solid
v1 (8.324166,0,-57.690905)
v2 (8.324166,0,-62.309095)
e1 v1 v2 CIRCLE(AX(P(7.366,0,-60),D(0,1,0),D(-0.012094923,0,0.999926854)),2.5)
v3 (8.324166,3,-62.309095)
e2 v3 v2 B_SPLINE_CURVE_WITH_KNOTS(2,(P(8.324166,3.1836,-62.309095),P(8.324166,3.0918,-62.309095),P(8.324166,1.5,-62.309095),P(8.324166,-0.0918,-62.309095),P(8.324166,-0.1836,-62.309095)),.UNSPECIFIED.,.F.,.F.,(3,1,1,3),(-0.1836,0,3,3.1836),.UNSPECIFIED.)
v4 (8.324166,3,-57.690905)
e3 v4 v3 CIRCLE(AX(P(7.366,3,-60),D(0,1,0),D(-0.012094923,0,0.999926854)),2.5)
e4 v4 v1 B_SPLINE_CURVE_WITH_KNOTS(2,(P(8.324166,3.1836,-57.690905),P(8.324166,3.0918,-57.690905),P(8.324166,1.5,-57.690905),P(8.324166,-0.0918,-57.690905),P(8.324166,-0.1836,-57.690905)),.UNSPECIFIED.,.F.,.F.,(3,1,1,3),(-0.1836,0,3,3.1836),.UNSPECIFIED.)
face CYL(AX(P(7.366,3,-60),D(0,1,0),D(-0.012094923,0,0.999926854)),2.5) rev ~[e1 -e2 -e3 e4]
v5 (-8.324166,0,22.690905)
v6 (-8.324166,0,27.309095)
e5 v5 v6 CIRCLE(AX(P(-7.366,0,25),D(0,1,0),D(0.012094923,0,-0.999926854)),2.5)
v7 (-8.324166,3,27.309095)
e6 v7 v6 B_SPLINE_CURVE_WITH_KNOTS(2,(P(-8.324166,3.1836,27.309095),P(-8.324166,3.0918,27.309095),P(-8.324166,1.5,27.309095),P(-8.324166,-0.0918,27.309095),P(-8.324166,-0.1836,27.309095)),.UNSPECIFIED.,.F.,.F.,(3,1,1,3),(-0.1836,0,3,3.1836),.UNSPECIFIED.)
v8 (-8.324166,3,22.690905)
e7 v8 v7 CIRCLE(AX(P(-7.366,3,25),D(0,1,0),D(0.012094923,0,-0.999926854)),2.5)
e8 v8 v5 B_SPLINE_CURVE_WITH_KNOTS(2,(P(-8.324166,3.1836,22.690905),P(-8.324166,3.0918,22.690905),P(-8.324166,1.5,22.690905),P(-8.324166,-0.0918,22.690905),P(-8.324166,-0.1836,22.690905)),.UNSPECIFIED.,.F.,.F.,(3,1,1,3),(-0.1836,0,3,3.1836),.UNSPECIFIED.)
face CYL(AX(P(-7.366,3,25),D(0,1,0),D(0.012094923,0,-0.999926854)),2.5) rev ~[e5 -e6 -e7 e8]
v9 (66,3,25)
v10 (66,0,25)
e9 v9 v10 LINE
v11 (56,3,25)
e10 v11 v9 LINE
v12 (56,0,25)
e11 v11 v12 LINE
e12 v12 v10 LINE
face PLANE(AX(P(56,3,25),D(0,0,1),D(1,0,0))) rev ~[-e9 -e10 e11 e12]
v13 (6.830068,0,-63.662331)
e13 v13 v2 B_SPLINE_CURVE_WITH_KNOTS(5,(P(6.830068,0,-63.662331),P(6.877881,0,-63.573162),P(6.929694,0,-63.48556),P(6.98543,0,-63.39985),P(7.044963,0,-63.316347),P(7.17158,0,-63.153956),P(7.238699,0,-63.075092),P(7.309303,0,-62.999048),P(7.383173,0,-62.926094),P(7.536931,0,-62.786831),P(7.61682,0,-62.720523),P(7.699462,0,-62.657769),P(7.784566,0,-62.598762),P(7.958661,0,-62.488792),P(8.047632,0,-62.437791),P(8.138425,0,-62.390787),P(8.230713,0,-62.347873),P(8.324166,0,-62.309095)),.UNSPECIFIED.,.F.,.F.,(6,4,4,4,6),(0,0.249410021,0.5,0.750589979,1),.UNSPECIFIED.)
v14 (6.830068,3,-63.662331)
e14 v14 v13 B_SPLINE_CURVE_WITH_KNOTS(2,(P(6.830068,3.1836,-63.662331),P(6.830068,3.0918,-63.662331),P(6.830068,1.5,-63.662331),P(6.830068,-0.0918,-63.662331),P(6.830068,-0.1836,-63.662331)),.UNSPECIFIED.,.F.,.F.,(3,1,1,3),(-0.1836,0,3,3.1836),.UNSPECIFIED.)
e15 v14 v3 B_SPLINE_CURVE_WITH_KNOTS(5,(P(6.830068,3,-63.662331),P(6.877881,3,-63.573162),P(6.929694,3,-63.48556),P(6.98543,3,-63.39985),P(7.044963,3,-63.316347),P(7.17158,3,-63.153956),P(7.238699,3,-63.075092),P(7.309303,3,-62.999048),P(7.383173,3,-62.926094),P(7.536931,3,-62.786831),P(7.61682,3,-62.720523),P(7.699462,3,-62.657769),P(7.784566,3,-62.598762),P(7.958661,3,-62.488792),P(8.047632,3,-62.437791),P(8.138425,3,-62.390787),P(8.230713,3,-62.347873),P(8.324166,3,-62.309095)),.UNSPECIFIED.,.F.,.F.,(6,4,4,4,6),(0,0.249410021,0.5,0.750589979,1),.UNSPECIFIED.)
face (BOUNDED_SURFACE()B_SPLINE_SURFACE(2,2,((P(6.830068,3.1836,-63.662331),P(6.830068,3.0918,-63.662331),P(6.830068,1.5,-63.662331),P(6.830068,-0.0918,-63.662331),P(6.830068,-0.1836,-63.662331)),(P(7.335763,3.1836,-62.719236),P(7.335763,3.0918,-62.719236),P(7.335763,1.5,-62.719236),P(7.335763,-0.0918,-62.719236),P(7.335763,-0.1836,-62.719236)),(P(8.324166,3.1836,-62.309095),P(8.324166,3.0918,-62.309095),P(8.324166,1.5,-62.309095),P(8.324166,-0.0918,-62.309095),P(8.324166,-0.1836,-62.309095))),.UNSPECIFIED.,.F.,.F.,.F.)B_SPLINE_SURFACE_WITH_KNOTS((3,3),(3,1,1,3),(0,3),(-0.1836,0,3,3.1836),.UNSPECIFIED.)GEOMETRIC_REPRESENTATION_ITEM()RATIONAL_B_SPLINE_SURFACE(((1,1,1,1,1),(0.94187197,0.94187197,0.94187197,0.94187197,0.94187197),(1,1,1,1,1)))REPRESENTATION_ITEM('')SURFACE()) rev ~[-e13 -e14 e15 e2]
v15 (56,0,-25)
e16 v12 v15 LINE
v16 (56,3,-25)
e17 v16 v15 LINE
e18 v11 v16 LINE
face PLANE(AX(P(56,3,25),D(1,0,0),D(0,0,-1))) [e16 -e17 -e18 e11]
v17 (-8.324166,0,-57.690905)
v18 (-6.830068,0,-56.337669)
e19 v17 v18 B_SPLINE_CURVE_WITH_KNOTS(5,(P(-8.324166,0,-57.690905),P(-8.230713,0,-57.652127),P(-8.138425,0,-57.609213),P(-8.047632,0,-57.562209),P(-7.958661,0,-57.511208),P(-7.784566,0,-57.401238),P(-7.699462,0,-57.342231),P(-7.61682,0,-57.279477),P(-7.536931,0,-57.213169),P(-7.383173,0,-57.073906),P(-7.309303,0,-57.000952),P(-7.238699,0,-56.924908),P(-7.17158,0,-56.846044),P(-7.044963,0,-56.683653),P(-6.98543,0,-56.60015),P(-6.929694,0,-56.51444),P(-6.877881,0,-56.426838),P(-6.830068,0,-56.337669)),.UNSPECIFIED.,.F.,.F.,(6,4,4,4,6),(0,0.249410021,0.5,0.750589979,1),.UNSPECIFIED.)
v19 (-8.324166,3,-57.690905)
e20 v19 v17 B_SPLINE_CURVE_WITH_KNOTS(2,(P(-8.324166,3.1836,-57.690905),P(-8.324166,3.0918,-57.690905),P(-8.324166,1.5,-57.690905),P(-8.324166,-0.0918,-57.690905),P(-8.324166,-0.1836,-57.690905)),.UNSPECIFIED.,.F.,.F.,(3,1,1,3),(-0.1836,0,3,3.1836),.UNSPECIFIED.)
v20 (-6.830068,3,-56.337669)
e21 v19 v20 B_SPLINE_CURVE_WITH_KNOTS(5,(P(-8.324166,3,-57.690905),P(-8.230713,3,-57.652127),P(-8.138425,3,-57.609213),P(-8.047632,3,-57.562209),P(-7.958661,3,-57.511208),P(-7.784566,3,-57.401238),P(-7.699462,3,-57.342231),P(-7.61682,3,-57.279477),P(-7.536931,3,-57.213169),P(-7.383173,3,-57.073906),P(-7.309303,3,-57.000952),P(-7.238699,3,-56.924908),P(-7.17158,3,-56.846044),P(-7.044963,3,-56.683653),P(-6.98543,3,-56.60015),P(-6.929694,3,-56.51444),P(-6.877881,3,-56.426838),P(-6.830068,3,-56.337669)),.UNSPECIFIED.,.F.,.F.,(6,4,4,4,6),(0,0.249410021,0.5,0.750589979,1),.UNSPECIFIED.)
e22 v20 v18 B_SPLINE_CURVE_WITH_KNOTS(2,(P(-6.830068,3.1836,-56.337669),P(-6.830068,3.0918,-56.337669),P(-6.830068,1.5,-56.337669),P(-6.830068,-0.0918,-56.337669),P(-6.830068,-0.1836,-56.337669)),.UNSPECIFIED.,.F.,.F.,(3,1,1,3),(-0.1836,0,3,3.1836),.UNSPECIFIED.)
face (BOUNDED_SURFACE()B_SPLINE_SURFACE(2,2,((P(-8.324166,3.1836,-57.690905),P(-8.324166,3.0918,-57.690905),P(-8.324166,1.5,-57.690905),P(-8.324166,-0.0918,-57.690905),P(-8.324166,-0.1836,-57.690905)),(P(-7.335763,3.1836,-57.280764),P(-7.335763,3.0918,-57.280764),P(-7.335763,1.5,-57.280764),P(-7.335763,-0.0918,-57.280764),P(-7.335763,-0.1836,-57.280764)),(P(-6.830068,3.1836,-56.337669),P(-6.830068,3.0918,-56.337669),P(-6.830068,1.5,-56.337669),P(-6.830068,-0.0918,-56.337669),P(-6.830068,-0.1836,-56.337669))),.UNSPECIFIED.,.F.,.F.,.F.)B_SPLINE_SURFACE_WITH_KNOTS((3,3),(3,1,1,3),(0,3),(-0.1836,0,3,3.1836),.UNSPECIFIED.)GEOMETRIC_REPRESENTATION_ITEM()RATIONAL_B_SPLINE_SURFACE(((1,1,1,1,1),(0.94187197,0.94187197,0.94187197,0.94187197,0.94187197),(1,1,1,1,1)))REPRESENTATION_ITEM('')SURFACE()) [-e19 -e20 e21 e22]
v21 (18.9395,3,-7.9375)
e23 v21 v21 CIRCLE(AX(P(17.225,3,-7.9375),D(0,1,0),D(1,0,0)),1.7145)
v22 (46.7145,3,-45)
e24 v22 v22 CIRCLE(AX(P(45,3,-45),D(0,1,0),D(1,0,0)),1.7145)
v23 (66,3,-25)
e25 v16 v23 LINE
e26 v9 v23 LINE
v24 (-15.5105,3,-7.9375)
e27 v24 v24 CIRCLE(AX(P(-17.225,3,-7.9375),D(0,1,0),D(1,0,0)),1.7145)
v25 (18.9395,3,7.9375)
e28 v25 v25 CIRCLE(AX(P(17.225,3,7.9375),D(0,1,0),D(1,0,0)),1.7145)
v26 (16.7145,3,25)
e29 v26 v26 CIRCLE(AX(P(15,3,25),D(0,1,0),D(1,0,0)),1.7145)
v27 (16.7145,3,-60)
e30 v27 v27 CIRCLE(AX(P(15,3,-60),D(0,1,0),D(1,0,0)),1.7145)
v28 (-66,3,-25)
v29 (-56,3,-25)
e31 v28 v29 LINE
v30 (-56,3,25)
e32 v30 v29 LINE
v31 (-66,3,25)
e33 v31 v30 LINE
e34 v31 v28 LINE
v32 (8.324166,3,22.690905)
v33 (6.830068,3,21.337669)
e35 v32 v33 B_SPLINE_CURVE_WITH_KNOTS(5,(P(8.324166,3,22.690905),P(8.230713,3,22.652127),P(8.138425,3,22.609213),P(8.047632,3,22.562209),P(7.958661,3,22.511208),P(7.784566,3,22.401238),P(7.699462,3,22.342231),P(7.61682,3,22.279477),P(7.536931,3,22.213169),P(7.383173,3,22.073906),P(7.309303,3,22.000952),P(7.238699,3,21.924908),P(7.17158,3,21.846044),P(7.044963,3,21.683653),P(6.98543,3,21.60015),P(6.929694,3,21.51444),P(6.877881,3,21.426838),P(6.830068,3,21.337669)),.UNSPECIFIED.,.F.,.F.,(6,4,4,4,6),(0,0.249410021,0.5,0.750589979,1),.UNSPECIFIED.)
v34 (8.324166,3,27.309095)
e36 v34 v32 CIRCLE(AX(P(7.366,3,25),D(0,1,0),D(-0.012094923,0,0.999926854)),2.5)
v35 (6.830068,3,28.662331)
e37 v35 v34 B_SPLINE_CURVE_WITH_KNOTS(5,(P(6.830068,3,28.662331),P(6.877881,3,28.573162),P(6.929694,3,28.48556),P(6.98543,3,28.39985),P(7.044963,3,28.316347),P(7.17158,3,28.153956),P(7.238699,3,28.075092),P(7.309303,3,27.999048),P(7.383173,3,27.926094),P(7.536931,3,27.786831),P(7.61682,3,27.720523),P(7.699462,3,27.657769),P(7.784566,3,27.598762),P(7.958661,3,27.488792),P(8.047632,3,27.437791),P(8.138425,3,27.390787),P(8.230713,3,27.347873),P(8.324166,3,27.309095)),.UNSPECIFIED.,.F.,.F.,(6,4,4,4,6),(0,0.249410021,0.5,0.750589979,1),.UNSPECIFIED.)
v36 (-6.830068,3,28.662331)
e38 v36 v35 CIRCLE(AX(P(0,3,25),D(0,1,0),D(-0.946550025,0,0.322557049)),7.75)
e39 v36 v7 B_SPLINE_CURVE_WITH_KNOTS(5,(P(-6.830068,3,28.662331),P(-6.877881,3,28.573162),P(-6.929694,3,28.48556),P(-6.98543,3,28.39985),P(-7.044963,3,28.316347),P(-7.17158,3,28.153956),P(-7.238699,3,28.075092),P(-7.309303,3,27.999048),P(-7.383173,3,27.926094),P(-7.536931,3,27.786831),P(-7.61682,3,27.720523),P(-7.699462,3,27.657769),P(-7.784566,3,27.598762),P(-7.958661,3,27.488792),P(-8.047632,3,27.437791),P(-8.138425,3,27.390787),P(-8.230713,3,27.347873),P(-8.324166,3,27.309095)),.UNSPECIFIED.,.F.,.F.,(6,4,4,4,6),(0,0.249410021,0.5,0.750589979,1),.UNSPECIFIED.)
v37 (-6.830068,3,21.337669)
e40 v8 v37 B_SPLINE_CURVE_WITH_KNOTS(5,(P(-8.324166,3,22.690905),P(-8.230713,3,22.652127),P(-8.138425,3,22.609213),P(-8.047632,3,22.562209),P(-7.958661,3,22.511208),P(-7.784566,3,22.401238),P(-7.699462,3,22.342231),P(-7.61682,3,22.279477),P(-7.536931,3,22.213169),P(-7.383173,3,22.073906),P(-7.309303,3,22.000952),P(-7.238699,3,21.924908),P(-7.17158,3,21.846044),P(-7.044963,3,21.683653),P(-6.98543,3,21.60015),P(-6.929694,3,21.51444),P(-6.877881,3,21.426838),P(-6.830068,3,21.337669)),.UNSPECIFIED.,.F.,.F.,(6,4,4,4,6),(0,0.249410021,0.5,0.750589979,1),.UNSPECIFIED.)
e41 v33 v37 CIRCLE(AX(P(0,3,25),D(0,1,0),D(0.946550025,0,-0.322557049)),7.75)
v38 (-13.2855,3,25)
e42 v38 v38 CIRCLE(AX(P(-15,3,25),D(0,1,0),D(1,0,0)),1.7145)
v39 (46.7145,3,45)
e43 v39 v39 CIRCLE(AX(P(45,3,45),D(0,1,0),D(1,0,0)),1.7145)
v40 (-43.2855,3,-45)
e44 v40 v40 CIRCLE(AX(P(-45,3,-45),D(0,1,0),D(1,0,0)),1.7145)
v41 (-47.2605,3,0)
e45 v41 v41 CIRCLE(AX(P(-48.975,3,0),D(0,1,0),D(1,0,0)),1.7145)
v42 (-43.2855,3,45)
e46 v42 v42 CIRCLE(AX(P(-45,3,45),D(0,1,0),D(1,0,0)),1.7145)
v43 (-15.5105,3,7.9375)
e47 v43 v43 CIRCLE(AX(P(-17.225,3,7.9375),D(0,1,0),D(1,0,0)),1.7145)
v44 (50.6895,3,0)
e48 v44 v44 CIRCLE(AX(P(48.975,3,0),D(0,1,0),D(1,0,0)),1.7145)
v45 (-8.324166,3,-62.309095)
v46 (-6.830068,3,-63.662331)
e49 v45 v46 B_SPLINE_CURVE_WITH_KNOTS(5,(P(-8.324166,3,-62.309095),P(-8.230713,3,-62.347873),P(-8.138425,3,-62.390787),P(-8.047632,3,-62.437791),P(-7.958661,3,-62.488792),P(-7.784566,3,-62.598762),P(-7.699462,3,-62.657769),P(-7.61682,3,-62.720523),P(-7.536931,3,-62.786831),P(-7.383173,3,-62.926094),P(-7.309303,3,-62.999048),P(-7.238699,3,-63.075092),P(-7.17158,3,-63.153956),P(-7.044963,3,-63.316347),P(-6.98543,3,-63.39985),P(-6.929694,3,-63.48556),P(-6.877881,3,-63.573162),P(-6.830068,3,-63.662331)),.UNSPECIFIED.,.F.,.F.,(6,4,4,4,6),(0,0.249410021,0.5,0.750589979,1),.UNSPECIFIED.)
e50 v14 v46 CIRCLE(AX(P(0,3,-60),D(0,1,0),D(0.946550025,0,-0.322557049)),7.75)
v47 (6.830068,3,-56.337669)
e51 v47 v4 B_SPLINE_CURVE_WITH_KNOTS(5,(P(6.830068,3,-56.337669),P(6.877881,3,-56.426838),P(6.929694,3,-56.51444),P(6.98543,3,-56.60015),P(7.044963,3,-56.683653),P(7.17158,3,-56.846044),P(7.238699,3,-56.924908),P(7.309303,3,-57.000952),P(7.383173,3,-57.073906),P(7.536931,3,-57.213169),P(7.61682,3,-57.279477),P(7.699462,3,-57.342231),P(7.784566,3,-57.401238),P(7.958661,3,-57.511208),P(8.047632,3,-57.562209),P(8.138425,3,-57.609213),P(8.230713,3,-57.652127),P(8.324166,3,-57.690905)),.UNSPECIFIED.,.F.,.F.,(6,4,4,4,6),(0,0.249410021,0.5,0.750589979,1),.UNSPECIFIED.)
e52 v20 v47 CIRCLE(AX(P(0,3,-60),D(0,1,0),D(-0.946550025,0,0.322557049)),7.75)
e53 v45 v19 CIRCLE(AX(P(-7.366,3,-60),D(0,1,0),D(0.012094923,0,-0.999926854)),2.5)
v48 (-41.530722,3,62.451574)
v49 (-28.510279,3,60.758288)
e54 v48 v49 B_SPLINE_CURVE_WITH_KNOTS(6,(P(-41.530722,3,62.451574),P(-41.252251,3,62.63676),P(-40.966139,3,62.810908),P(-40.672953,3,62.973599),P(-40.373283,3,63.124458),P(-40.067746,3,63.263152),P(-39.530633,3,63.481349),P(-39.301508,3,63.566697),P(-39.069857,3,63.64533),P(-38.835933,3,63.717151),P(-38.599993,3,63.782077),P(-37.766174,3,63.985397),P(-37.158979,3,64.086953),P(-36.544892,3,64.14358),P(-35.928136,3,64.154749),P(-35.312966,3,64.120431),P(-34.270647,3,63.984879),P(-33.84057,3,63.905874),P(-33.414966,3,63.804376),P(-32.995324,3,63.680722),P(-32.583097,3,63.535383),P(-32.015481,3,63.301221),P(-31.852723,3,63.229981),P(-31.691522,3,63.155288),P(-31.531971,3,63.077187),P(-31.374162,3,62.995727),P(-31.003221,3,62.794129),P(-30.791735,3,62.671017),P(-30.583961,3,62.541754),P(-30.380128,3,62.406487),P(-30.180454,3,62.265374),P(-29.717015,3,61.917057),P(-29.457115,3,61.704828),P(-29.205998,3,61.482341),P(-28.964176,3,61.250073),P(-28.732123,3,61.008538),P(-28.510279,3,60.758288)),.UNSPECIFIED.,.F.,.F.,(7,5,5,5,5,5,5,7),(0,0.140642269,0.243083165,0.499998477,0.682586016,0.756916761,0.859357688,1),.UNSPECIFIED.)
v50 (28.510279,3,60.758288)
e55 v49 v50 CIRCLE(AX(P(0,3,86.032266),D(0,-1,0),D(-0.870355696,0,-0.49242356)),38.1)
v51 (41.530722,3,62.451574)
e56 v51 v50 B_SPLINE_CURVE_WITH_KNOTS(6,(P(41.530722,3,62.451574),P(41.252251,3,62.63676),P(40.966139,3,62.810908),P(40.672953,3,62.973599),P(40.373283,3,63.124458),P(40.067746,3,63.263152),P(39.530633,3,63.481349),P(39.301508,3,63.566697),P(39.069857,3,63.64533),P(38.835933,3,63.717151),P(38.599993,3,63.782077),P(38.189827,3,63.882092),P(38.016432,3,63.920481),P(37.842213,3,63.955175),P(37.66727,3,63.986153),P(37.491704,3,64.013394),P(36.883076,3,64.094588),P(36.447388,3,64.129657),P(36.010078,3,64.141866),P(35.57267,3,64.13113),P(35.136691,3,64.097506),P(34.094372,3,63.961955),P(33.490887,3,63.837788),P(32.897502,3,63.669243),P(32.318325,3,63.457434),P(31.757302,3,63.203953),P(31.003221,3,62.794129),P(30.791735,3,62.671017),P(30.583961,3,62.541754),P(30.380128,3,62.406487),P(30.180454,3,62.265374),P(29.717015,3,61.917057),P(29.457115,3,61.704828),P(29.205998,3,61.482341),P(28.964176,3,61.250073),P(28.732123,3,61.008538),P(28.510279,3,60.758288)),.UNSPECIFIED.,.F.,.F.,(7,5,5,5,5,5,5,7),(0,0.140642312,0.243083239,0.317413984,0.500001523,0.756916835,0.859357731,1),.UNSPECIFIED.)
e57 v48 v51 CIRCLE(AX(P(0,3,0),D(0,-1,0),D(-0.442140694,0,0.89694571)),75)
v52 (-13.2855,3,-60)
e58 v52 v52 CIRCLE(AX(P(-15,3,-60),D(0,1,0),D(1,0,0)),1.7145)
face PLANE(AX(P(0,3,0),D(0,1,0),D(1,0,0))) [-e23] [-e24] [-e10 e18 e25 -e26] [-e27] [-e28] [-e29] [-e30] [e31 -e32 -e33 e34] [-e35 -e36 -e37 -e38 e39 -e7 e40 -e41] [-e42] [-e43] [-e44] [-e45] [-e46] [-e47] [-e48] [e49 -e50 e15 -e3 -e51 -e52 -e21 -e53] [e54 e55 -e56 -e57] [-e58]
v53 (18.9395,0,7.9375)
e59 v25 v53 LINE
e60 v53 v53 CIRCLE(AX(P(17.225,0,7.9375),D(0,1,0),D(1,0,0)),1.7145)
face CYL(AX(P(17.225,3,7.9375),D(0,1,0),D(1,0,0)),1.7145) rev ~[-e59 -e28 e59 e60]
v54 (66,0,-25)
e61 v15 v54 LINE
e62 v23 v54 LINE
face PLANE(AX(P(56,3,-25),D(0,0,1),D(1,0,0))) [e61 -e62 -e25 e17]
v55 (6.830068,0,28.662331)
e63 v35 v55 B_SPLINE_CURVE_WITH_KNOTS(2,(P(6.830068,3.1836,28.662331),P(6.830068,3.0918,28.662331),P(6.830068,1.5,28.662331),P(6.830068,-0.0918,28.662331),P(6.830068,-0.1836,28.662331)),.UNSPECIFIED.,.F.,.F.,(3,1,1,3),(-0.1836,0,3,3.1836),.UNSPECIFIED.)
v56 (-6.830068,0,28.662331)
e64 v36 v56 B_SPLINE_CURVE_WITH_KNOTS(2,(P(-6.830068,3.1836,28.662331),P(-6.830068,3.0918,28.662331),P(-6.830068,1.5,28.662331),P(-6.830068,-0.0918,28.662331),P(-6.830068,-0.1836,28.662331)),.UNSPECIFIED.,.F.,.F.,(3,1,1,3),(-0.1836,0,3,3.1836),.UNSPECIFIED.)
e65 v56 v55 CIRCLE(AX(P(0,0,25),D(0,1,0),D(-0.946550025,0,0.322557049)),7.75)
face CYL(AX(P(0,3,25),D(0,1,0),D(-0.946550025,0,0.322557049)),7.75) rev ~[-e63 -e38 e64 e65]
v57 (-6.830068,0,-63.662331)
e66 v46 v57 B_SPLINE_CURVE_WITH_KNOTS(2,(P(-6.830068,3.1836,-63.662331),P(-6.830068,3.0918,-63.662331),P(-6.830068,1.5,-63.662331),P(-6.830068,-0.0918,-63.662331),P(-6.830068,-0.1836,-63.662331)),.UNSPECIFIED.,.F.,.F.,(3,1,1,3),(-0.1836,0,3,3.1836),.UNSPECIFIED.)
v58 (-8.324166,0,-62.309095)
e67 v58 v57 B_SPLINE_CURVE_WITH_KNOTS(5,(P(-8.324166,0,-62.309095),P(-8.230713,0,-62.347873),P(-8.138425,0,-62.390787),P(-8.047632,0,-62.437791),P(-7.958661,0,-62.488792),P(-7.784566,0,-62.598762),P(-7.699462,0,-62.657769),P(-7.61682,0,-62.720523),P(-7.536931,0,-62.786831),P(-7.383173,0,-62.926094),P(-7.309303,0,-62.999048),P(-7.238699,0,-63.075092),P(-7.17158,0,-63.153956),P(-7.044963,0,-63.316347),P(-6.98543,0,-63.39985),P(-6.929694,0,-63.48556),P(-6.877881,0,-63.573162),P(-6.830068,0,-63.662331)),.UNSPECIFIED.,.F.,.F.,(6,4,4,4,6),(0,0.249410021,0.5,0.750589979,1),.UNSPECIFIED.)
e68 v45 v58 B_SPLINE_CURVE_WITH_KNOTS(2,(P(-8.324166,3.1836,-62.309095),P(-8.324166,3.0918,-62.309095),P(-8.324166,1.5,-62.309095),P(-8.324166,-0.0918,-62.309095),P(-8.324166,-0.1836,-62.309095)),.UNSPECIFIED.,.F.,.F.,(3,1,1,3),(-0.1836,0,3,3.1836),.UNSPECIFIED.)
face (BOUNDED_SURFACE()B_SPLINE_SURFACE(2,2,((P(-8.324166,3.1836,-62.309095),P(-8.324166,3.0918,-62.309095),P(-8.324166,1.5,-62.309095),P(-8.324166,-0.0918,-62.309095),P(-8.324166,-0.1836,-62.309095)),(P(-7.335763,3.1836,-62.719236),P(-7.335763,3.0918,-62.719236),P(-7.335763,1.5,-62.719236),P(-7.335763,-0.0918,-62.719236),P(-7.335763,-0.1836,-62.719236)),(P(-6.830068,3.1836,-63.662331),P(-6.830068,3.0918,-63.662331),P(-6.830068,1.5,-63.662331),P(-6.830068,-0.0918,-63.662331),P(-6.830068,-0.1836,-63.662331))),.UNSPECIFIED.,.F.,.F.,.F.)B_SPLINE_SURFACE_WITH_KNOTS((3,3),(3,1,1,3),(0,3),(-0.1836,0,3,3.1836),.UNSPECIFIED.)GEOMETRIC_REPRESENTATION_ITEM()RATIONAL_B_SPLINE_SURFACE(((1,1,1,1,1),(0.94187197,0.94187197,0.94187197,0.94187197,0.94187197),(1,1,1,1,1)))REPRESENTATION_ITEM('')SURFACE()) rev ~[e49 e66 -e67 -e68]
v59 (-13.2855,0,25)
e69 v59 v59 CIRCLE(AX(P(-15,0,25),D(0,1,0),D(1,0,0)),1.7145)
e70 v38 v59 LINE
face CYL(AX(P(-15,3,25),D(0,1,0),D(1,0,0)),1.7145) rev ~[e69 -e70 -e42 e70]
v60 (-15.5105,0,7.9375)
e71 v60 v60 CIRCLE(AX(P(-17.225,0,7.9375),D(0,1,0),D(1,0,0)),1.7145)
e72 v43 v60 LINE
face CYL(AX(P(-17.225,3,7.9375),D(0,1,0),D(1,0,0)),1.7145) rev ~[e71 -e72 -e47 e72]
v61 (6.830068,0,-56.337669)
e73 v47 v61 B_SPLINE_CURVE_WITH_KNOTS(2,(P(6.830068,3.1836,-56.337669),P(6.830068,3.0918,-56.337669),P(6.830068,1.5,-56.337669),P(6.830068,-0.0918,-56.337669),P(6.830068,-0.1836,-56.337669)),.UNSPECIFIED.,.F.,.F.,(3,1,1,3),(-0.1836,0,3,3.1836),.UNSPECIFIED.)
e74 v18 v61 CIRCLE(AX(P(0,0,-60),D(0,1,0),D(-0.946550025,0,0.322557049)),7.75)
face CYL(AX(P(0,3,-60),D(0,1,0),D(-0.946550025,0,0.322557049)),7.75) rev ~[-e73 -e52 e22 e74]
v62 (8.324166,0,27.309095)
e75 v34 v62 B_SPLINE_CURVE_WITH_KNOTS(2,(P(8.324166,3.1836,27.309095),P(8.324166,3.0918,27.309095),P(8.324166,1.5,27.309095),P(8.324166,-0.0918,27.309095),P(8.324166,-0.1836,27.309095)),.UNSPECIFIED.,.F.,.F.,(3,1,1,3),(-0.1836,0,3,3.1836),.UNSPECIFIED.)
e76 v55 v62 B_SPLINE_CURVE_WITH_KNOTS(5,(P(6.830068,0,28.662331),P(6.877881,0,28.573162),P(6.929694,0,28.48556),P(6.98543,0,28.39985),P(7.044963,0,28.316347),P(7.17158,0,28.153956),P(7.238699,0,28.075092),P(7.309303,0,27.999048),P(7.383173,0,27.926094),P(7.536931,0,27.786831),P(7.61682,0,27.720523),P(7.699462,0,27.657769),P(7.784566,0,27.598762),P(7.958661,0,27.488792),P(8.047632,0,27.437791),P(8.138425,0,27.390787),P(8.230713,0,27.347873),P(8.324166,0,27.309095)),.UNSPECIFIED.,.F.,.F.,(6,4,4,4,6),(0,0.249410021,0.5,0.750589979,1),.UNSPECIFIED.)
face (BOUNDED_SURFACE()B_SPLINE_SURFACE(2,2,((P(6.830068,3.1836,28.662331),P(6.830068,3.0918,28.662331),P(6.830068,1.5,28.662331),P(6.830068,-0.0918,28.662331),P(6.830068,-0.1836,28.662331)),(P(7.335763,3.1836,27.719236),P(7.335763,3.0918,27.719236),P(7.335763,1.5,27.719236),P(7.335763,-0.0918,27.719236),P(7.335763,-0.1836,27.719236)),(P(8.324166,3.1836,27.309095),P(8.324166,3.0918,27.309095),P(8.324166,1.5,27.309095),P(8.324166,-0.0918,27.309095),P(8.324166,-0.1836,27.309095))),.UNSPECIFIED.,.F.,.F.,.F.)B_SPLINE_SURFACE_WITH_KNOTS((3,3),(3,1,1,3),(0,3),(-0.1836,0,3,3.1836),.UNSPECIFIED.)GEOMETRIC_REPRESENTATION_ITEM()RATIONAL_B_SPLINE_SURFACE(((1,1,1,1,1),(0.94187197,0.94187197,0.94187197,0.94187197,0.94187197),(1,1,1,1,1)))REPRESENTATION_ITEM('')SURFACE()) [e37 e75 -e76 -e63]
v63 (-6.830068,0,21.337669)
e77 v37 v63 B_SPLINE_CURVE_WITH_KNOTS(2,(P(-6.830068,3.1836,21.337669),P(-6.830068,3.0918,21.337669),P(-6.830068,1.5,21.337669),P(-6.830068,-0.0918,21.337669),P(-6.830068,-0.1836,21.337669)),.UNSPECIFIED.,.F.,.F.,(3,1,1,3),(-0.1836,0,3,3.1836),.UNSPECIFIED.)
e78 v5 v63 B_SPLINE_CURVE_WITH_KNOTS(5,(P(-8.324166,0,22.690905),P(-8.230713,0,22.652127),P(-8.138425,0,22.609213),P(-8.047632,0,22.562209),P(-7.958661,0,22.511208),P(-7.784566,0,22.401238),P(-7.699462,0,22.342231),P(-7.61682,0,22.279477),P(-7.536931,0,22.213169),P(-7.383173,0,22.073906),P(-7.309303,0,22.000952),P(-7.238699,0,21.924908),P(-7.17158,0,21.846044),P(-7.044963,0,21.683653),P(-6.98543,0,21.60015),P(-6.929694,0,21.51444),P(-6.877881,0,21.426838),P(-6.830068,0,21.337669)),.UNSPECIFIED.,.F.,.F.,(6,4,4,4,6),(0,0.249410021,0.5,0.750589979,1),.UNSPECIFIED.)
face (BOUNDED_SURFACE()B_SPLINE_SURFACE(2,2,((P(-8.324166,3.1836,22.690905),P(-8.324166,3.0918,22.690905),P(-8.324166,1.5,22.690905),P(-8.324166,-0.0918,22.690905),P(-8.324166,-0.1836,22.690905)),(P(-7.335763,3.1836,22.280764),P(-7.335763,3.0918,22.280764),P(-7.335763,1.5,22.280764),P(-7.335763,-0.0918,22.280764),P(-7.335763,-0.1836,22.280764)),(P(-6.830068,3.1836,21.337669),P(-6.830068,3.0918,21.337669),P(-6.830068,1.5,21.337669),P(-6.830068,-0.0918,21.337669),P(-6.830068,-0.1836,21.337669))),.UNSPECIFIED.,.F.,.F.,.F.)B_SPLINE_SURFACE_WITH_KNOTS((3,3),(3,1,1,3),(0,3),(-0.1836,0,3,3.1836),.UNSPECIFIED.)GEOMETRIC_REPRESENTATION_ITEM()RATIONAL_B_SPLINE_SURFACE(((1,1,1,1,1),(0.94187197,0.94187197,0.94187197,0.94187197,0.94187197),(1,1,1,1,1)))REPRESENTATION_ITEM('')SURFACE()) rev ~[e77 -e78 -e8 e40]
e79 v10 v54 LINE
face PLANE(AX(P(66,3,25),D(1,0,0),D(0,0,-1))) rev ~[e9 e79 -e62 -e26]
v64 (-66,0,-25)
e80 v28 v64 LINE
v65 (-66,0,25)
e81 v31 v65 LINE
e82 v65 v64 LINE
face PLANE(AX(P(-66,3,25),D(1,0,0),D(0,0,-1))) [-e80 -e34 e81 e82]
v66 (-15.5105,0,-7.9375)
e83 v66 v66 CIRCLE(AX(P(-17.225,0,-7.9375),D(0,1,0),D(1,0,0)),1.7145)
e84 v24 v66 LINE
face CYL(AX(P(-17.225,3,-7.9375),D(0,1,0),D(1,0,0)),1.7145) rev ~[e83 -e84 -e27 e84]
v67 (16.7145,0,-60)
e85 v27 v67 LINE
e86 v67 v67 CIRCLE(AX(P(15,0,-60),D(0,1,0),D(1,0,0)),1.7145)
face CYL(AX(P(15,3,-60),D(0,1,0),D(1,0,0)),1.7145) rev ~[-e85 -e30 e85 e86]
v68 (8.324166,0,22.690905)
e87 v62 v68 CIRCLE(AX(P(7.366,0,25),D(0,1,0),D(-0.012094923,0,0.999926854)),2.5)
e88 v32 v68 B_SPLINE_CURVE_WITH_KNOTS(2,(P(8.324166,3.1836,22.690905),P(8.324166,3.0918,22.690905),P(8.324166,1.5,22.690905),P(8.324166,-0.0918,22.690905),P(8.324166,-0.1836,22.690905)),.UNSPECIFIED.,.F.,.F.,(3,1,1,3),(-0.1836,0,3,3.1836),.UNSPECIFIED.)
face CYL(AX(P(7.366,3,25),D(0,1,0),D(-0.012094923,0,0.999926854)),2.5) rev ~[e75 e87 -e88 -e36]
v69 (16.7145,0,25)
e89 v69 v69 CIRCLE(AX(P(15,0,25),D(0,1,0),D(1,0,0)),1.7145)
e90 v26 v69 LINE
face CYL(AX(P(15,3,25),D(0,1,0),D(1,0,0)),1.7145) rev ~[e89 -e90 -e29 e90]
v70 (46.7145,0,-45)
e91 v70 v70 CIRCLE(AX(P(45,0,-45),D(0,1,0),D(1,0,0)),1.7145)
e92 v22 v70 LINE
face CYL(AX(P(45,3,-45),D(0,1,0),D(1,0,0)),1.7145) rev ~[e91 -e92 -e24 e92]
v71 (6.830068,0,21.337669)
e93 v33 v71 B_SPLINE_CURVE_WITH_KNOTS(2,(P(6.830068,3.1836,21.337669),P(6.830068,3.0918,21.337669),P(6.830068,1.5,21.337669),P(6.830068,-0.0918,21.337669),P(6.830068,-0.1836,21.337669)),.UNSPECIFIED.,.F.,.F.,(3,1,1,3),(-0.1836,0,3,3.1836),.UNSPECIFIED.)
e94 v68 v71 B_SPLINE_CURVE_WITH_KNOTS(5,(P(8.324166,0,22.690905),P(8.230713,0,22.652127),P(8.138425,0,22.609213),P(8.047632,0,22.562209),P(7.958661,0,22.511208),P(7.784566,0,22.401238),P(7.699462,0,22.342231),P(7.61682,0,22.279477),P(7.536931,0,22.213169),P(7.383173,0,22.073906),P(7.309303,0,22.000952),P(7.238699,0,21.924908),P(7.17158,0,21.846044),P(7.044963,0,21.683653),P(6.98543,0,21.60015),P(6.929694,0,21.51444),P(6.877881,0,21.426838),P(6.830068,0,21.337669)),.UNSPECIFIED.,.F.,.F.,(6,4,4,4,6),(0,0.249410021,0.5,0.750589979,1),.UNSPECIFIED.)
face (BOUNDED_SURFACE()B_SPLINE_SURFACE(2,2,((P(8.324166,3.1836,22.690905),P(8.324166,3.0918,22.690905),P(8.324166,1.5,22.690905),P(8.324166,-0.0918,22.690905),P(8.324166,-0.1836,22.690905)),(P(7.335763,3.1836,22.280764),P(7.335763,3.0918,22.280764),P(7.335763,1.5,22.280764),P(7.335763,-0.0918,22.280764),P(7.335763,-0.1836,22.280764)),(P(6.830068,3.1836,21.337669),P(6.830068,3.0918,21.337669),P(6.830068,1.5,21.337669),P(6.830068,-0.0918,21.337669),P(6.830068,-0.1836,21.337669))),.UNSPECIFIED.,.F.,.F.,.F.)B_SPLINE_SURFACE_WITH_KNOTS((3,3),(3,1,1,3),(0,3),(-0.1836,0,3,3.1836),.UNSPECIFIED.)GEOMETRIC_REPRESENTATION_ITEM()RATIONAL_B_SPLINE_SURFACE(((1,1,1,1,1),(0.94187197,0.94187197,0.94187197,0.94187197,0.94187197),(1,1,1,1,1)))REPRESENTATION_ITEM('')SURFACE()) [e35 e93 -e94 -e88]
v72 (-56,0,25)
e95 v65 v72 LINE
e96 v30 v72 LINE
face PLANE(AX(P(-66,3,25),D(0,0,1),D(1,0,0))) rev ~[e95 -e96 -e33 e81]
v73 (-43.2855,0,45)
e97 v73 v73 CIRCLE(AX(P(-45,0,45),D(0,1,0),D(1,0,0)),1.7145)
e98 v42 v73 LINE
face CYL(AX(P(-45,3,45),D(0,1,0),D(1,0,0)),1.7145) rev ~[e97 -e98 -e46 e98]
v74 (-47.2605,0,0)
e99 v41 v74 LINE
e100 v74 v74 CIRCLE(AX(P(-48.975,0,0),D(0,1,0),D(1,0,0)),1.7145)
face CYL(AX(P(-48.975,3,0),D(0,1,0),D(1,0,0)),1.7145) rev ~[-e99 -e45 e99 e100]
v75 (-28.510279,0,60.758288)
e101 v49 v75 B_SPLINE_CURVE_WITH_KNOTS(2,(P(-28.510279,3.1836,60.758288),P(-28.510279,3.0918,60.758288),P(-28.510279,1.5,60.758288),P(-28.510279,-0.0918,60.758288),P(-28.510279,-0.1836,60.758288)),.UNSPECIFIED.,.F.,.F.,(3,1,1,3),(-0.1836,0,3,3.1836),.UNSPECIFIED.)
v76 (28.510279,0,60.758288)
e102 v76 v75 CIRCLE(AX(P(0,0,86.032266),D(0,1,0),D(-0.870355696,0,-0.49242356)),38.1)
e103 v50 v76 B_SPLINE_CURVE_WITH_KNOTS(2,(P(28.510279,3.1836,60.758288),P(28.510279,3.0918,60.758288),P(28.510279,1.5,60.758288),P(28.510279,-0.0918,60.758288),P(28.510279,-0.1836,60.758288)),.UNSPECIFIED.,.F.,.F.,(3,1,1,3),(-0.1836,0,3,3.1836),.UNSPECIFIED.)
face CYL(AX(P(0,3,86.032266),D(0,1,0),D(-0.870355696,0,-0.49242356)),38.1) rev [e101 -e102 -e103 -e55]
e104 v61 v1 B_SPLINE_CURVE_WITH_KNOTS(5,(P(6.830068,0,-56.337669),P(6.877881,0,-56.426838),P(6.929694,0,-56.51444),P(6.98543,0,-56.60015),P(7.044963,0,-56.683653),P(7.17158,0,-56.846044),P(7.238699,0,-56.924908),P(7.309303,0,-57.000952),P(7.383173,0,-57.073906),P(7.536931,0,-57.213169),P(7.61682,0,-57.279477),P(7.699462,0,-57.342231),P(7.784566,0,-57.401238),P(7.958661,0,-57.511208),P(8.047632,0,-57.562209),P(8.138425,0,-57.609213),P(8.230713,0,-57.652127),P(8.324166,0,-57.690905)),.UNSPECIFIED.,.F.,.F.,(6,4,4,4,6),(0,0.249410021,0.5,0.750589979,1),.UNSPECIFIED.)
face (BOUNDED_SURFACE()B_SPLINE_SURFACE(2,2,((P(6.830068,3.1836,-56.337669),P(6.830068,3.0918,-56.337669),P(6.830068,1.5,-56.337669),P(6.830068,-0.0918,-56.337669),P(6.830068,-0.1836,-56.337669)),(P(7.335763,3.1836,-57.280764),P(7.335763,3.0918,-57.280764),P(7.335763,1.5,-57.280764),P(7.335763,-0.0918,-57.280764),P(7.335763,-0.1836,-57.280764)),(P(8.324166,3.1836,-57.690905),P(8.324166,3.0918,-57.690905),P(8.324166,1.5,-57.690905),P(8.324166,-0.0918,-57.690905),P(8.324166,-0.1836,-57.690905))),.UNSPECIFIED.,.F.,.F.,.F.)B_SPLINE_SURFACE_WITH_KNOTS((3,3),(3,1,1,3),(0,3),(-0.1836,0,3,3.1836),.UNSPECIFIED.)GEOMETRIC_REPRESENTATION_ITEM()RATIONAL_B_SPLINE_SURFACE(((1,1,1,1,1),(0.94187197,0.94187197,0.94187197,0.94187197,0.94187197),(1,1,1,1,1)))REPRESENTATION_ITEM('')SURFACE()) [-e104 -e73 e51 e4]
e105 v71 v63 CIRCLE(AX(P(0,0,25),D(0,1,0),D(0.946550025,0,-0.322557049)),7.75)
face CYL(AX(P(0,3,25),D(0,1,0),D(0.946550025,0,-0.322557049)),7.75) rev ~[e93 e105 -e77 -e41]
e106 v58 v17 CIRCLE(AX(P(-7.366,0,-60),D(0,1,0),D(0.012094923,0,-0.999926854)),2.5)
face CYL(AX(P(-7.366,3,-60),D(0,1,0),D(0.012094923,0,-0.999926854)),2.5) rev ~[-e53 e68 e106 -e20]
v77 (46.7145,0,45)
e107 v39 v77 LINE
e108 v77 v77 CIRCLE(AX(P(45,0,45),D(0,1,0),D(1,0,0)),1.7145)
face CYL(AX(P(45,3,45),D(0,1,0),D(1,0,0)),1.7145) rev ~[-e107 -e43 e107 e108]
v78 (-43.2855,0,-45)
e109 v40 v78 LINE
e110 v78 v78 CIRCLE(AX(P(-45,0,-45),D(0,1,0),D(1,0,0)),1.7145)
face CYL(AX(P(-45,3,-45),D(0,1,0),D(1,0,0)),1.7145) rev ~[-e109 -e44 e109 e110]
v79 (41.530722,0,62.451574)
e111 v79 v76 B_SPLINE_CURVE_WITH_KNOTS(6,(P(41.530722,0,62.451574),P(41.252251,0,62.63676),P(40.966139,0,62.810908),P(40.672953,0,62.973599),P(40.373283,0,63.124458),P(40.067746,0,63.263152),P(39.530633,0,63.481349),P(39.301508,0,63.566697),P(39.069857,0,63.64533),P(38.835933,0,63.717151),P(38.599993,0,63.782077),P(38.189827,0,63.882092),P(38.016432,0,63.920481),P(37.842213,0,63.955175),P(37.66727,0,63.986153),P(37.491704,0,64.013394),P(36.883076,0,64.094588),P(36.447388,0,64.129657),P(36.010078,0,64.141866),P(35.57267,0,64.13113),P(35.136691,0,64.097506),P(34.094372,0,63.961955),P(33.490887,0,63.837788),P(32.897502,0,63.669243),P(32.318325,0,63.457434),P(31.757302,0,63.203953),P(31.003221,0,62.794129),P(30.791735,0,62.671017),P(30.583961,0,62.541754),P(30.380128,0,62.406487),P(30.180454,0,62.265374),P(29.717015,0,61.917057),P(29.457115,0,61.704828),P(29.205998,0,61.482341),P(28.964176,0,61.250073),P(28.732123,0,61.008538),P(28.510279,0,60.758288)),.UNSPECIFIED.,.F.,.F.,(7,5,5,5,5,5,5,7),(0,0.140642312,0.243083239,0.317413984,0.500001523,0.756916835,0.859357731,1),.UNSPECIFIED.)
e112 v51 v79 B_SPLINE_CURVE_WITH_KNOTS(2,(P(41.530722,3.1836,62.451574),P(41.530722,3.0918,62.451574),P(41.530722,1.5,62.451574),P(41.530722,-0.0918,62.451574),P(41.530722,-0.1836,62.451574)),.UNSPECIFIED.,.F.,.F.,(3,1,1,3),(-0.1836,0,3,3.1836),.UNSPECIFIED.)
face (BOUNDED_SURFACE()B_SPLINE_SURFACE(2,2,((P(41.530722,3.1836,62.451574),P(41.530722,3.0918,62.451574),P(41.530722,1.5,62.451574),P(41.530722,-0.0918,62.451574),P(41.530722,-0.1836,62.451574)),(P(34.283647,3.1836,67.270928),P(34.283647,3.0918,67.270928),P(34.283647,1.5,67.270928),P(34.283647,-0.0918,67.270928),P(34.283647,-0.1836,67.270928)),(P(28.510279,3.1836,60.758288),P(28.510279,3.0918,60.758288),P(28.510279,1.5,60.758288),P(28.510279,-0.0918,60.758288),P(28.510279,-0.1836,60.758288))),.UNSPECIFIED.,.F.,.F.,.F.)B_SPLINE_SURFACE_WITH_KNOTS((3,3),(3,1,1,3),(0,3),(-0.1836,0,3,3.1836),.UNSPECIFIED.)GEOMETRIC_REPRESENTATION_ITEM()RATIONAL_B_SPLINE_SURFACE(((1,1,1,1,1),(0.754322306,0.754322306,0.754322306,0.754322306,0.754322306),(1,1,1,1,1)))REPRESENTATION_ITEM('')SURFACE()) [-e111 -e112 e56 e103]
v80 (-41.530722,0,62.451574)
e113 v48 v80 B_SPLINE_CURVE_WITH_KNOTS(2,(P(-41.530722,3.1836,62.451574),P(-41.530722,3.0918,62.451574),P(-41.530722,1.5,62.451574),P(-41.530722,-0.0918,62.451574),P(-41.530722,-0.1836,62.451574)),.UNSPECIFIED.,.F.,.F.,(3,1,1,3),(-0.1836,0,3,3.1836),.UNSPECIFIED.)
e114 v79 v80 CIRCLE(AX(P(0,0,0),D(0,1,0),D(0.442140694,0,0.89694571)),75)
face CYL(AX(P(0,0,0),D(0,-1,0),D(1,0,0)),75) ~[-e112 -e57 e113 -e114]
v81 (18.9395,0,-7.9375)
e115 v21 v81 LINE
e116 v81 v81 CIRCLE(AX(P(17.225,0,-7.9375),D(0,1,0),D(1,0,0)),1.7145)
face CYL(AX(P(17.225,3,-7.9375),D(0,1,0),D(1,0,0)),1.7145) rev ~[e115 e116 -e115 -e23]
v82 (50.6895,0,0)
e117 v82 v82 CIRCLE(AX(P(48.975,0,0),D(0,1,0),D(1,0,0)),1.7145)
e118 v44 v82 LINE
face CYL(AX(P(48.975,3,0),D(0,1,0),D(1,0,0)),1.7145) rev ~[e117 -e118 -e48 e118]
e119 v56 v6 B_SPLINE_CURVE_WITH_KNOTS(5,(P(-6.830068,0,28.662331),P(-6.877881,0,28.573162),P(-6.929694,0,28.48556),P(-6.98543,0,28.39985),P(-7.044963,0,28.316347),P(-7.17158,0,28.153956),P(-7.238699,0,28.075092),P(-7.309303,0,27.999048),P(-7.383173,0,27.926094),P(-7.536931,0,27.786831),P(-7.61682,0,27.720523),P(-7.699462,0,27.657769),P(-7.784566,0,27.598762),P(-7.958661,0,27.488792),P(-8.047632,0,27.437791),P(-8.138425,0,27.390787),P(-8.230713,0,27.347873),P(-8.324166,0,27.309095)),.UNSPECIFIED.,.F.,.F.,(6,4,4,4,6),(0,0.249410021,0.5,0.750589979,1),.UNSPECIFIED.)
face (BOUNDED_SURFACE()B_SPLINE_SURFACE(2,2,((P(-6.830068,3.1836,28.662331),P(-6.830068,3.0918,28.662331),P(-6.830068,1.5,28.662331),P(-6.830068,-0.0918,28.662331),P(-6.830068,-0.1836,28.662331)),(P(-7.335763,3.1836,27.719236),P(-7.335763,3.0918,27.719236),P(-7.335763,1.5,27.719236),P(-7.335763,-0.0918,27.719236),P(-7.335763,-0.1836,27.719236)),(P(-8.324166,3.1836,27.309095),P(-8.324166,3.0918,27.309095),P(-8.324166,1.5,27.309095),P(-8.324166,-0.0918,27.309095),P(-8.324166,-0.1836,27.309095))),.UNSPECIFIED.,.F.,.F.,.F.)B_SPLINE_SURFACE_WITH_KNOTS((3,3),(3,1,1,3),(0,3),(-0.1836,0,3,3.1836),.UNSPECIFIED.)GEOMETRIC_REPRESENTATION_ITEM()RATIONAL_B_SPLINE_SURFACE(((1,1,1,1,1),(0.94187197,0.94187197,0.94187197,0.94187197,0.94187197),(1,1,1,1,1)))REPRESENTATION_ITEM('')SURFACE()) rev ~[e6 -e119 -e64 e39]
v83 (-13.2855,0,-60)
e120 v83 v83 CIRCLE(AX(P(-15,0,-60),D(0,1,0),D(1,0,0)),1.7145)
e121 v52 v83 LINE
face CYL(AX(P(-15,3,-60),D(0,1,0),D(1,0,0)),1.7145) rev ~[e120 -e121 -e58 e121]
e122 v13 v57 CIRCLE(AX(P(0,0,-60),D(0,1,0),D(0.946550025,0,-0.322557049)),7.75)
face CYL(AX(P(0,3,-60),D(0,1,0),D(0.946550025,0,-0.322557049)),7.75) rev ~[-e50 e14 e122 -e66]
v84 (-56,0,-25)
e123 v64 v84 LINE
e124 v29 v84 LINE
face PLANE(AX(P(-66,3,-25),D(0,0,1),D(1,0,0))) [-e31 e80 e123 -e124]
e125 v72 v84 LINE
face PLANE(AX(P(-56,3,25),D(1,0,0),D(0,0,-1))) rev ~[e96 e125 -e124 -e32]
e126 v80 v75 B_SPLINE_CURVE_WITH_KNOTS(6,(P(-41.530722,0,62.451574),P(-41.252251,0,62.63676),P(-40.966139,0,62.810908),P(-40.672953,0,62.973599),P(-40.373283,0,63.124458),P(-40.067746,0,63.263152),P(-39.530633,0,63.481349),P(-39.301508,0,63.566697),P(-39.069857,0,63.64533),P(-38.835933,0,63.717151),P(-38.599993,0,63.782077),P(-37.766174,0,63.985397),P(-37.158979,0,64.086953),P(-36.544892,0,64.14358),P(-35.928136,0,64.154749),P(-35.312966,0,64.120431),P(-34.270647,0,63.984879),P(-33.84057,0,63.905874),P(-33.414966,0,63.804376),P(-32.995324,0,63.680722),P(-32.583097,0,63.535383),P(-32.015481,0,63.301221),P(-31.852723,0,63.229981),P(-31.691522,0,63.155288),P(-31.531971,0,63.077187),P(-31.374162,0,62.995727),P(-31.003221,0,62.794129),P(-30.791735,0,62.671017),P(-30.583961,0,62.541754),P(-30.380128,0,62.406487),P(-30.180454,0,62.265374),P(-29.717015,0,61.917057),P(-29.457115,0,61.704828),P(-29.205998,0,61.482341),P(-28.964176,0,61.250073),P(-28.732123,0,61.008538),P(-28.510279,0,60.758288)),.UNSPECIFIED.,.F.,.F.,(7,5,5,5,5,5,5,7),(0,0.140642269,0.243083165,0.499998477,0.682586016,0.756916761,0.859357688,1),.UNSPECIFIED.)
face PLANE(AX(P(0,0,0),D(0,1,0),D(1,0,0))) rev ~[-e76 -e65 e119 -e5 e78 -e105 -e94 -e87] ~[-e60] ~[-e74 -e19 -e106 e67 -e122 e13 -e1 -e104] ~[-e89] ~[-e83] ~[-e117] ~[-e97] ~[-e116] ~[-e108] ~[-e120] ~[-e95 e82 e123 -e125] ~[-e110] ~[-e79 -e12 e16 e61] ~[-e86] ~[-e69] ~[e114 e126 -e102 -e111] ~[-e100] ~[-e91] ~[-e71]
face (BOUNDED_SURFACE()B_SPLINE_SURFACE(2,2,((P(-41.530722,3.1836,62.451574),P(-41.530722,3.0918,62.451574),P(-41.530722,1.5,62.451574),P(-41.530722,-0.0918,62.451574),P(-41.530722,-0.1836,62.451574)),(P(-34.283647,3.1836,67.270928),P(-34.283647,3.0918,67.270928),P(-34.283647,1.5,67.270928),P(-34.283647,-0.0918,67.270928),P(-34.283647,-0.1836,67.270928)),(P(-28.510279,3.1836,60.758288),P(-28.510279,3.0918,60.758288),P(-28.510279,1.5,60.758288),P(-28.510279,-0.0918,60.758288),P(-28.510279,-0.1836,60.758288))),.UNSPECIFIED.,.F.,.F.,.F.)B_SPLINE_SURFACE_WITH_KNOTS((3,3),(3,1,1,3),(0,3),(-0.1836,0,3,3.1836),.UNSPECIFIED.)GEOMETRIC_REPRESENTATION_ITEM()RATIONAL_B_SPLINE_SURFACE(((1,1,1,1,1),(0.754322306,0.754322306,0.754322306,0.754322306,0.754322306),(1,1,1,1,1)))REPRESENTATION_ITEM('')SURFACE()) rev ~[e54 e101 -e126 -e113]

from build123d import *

# Parameters (mm, degrees)
SKETCH1_R           = 75
BOSS_EXTRUDE1_DEPTH = 3
SKETCH2_W           = 10
SKETCH2_H           = 50
CUT_EXTRUDE1_DEPTH  = 6.35
CUT_EXTRUDE2_DEPTH  = 10
CUT_EXTRUDE3_START  = -10
CUT_EXTRUDE3_DEPTH  = 10
FILLET2_R           = 10
SKETCH7_R           = 1.7145
CUT_EXTRUDE5_DEPTH  = 3
SKETCH6_R           = 1.7145
CUT_EXTRUDE6_DEPTH  = 3
FILLET4_R           = 3
SKETCH8_R           = 1.7145
CUT_EXTRUDE7_DEPTH  = 107.108435247


with BuildPart() as part:
    # Sketch1 → Boss-Extrude1 (new body)
    with BuildSketch(Plane(origin=(0, 0, 0), x_dir=(1, 0, 0), z_dir=(0, 1, 0))):
        Circle(SKETCH1_R)
    extrude(amount=BOSS_EXTRUDE1_DEPTH)

    # Sketch2 → Cut-Extrude1 (cut)
    with BuildSketch(Plane(origin=(0, 3, 0), x_dir=(1, 0, 0), z_dir=(0, 1, 0))):
        with Locations((-61, 0)):
            Rectangle(SKETCH2_W, SKETCH2_H)
        with Locations((61, 0)):
            Rectangle(SKETCH2_W, SKETCH2_H)
    extrude(amount=-CUT_EXTRUDE1_DEPTH, mode=Mode.SUBTRACT)

    # Sketch3 → Cut-Extrude2 (cut)
    with BuildSketch(Plane(origin=(0, 3, 0), x_dir=(1, 0, 0), z_dir=(0, 1, 0))):
        with BuildLine():
            ThreePointArc((-7.335762693, -27.499817134), (0, -32.75), (7.335762693, -27.499817134))
            ThreePointArc((7.335762693, -27.499817134), (9.866, -25), (7.335762693, -22.500182866))
            ThreePointArc((7.335762693, -22.500182866), (0, -17.25), (-7.335762693, -22.500182866))
            ThreePointArc((-7.335762693, -22.500182866), (-9.866, -25), (-7.335762693, -27.499817134))
        make_face()
        with BuildLine():
            ThreePointArc((-7.335762693, 62.499817134), (-9.866, 60), (-7.335762693, 57.500182866))
            ThreePointArc((-7.335762693, 57.500182866), (0, 52.25), (7.335762693, 57.500182866))
            ThreePointArc((7.335762693, 57.500182866), (9.866, 60), (7.335762693, 62.499817134))
            ThreePointArc((7.335762693, 62.499817134), (0, 67.75), (-7.335762693, 62.499817134))
        make_face()
    extrude(amount=-CUT_EXTRUDE2_DEPTH, mode=Mode.SUBTRACT)

    # Sketch4 → Cut-Extrude3 (cut)
    with BuildSketch(Plane(origin=(0, 3, 0), x_dir=(1, 0, 0), z_dir=(0, 1, 0)).offset(CUT_EXTRUDE3_START)):
        with BuildLine():
            ThreePointArc((-33.160552015, -67.270928268), (0, -47.932265908), (33.160552015, -67.270928268))
            ThreePointArc((33.160552015, -67.270928268), (0, -75), (-33.160552015, -67.270928268))
        make_face()
    extrude(amount=CUT_EXTRUDE3_DEPTH, mode=Mode.SUBTRACT)

    # Fillet2
    fillet2_edges = [part.edges().sort_by_distance(p)[0] for p in [
        (33.160552015, 1.5, 67.270928268),
        (-33.160552015, 1.5, 67.270928268),
    ]]
    fillet(fillet2_edges, radius=FILLET2_R)

    # Sketch7 → Cut-Extrude5 (cut)
    with BuildSketch(Plane(origin=(0, 3, 0), x_dir=(1, 0, 0), z_dir=(0, 1, 0))):
        with Locations((-48.975, 0)):
            Circle(SKETCH7_R)
        with Locations((-17.225, -7.9375)):
            Circle(SKETCH7_R)
        with Locations((-17.225, 7.9375)):
            Circle(SKETCH7_R)
        with Locations((17.225, 7.9375)):
            Circle(SKETCH7_R)
        with Locations((17.225, -7.9375)):
            Circle(SKETCH7_R)
        with Locations((48.975, 0)):
            Circle(SKETCH7_R)
    extrude(amount=-CUT_EXTRUDE5_DEPTH, mode=Mode.SUBTRACT)

    # Sketch6 → Cut-Extrude6 (cut)
    with BuildSketch(Plane(origin=(0, 3, 0), x_dir=(1, 0, 0), z_dir=(0, 1, 0))):
        with Locations((-15, 60)):
            Circle(SKETCH6_R)
        with Locations((15, 60)):
            Circle(SKETCH6_R)
        with Locations((-15, -25)):
            Circle(SKETCH6_R)
        with Locations((15, -25)):
            Circle(SKETCH6_R)
    extrude(amount=-CUT_EXTRUDE6_DEPTH, mode=Mode.SUBTRACT)

    # Fillet4
    fillet4_edges = [part.edges().sort_by_distance(p)[0] for p in [
        (-7.335762693, 1.5, -57.500182866),
        (7.335762693, 1.5, -57.500182866),
        (7.335762693, 1.5, -62.499817134),
        (-7.335762693, 1.5, -62.499817134),
        (7.335762693, 1.5, 22.500182866),
        (-7.335762693, 1.5, 22.500182866),
        (7.335762693, 1.5, 27.499817134),
        (-7.335762693, 1.5, 27.499817134),
    ]]
    fillet(fillet4_edges, radius=FILLET4_R)

    # Sketch8 → Cut-Extrude7 (cut, through all)
    with BuildSketch(Plane(origin=(0, 3, 0), x_dir=(1, 0, 0), z_dir=(0, 1, 0))):
        with Locations((-45, 45)):
            Circle(SKETCH8_R)
        with Locations((45, 45)):
            Circle(SKETCH8_R)
        with Locations((45, -45)):
            Circle(SKETCH8_R)
        with Locations((-45, -45)):
            Circle(SKETCH8_R)
    extrude(amount=-CUT_EXTRUDE7_DEPTH, mode=Mode.SUBTRACT)


solid = part.part
